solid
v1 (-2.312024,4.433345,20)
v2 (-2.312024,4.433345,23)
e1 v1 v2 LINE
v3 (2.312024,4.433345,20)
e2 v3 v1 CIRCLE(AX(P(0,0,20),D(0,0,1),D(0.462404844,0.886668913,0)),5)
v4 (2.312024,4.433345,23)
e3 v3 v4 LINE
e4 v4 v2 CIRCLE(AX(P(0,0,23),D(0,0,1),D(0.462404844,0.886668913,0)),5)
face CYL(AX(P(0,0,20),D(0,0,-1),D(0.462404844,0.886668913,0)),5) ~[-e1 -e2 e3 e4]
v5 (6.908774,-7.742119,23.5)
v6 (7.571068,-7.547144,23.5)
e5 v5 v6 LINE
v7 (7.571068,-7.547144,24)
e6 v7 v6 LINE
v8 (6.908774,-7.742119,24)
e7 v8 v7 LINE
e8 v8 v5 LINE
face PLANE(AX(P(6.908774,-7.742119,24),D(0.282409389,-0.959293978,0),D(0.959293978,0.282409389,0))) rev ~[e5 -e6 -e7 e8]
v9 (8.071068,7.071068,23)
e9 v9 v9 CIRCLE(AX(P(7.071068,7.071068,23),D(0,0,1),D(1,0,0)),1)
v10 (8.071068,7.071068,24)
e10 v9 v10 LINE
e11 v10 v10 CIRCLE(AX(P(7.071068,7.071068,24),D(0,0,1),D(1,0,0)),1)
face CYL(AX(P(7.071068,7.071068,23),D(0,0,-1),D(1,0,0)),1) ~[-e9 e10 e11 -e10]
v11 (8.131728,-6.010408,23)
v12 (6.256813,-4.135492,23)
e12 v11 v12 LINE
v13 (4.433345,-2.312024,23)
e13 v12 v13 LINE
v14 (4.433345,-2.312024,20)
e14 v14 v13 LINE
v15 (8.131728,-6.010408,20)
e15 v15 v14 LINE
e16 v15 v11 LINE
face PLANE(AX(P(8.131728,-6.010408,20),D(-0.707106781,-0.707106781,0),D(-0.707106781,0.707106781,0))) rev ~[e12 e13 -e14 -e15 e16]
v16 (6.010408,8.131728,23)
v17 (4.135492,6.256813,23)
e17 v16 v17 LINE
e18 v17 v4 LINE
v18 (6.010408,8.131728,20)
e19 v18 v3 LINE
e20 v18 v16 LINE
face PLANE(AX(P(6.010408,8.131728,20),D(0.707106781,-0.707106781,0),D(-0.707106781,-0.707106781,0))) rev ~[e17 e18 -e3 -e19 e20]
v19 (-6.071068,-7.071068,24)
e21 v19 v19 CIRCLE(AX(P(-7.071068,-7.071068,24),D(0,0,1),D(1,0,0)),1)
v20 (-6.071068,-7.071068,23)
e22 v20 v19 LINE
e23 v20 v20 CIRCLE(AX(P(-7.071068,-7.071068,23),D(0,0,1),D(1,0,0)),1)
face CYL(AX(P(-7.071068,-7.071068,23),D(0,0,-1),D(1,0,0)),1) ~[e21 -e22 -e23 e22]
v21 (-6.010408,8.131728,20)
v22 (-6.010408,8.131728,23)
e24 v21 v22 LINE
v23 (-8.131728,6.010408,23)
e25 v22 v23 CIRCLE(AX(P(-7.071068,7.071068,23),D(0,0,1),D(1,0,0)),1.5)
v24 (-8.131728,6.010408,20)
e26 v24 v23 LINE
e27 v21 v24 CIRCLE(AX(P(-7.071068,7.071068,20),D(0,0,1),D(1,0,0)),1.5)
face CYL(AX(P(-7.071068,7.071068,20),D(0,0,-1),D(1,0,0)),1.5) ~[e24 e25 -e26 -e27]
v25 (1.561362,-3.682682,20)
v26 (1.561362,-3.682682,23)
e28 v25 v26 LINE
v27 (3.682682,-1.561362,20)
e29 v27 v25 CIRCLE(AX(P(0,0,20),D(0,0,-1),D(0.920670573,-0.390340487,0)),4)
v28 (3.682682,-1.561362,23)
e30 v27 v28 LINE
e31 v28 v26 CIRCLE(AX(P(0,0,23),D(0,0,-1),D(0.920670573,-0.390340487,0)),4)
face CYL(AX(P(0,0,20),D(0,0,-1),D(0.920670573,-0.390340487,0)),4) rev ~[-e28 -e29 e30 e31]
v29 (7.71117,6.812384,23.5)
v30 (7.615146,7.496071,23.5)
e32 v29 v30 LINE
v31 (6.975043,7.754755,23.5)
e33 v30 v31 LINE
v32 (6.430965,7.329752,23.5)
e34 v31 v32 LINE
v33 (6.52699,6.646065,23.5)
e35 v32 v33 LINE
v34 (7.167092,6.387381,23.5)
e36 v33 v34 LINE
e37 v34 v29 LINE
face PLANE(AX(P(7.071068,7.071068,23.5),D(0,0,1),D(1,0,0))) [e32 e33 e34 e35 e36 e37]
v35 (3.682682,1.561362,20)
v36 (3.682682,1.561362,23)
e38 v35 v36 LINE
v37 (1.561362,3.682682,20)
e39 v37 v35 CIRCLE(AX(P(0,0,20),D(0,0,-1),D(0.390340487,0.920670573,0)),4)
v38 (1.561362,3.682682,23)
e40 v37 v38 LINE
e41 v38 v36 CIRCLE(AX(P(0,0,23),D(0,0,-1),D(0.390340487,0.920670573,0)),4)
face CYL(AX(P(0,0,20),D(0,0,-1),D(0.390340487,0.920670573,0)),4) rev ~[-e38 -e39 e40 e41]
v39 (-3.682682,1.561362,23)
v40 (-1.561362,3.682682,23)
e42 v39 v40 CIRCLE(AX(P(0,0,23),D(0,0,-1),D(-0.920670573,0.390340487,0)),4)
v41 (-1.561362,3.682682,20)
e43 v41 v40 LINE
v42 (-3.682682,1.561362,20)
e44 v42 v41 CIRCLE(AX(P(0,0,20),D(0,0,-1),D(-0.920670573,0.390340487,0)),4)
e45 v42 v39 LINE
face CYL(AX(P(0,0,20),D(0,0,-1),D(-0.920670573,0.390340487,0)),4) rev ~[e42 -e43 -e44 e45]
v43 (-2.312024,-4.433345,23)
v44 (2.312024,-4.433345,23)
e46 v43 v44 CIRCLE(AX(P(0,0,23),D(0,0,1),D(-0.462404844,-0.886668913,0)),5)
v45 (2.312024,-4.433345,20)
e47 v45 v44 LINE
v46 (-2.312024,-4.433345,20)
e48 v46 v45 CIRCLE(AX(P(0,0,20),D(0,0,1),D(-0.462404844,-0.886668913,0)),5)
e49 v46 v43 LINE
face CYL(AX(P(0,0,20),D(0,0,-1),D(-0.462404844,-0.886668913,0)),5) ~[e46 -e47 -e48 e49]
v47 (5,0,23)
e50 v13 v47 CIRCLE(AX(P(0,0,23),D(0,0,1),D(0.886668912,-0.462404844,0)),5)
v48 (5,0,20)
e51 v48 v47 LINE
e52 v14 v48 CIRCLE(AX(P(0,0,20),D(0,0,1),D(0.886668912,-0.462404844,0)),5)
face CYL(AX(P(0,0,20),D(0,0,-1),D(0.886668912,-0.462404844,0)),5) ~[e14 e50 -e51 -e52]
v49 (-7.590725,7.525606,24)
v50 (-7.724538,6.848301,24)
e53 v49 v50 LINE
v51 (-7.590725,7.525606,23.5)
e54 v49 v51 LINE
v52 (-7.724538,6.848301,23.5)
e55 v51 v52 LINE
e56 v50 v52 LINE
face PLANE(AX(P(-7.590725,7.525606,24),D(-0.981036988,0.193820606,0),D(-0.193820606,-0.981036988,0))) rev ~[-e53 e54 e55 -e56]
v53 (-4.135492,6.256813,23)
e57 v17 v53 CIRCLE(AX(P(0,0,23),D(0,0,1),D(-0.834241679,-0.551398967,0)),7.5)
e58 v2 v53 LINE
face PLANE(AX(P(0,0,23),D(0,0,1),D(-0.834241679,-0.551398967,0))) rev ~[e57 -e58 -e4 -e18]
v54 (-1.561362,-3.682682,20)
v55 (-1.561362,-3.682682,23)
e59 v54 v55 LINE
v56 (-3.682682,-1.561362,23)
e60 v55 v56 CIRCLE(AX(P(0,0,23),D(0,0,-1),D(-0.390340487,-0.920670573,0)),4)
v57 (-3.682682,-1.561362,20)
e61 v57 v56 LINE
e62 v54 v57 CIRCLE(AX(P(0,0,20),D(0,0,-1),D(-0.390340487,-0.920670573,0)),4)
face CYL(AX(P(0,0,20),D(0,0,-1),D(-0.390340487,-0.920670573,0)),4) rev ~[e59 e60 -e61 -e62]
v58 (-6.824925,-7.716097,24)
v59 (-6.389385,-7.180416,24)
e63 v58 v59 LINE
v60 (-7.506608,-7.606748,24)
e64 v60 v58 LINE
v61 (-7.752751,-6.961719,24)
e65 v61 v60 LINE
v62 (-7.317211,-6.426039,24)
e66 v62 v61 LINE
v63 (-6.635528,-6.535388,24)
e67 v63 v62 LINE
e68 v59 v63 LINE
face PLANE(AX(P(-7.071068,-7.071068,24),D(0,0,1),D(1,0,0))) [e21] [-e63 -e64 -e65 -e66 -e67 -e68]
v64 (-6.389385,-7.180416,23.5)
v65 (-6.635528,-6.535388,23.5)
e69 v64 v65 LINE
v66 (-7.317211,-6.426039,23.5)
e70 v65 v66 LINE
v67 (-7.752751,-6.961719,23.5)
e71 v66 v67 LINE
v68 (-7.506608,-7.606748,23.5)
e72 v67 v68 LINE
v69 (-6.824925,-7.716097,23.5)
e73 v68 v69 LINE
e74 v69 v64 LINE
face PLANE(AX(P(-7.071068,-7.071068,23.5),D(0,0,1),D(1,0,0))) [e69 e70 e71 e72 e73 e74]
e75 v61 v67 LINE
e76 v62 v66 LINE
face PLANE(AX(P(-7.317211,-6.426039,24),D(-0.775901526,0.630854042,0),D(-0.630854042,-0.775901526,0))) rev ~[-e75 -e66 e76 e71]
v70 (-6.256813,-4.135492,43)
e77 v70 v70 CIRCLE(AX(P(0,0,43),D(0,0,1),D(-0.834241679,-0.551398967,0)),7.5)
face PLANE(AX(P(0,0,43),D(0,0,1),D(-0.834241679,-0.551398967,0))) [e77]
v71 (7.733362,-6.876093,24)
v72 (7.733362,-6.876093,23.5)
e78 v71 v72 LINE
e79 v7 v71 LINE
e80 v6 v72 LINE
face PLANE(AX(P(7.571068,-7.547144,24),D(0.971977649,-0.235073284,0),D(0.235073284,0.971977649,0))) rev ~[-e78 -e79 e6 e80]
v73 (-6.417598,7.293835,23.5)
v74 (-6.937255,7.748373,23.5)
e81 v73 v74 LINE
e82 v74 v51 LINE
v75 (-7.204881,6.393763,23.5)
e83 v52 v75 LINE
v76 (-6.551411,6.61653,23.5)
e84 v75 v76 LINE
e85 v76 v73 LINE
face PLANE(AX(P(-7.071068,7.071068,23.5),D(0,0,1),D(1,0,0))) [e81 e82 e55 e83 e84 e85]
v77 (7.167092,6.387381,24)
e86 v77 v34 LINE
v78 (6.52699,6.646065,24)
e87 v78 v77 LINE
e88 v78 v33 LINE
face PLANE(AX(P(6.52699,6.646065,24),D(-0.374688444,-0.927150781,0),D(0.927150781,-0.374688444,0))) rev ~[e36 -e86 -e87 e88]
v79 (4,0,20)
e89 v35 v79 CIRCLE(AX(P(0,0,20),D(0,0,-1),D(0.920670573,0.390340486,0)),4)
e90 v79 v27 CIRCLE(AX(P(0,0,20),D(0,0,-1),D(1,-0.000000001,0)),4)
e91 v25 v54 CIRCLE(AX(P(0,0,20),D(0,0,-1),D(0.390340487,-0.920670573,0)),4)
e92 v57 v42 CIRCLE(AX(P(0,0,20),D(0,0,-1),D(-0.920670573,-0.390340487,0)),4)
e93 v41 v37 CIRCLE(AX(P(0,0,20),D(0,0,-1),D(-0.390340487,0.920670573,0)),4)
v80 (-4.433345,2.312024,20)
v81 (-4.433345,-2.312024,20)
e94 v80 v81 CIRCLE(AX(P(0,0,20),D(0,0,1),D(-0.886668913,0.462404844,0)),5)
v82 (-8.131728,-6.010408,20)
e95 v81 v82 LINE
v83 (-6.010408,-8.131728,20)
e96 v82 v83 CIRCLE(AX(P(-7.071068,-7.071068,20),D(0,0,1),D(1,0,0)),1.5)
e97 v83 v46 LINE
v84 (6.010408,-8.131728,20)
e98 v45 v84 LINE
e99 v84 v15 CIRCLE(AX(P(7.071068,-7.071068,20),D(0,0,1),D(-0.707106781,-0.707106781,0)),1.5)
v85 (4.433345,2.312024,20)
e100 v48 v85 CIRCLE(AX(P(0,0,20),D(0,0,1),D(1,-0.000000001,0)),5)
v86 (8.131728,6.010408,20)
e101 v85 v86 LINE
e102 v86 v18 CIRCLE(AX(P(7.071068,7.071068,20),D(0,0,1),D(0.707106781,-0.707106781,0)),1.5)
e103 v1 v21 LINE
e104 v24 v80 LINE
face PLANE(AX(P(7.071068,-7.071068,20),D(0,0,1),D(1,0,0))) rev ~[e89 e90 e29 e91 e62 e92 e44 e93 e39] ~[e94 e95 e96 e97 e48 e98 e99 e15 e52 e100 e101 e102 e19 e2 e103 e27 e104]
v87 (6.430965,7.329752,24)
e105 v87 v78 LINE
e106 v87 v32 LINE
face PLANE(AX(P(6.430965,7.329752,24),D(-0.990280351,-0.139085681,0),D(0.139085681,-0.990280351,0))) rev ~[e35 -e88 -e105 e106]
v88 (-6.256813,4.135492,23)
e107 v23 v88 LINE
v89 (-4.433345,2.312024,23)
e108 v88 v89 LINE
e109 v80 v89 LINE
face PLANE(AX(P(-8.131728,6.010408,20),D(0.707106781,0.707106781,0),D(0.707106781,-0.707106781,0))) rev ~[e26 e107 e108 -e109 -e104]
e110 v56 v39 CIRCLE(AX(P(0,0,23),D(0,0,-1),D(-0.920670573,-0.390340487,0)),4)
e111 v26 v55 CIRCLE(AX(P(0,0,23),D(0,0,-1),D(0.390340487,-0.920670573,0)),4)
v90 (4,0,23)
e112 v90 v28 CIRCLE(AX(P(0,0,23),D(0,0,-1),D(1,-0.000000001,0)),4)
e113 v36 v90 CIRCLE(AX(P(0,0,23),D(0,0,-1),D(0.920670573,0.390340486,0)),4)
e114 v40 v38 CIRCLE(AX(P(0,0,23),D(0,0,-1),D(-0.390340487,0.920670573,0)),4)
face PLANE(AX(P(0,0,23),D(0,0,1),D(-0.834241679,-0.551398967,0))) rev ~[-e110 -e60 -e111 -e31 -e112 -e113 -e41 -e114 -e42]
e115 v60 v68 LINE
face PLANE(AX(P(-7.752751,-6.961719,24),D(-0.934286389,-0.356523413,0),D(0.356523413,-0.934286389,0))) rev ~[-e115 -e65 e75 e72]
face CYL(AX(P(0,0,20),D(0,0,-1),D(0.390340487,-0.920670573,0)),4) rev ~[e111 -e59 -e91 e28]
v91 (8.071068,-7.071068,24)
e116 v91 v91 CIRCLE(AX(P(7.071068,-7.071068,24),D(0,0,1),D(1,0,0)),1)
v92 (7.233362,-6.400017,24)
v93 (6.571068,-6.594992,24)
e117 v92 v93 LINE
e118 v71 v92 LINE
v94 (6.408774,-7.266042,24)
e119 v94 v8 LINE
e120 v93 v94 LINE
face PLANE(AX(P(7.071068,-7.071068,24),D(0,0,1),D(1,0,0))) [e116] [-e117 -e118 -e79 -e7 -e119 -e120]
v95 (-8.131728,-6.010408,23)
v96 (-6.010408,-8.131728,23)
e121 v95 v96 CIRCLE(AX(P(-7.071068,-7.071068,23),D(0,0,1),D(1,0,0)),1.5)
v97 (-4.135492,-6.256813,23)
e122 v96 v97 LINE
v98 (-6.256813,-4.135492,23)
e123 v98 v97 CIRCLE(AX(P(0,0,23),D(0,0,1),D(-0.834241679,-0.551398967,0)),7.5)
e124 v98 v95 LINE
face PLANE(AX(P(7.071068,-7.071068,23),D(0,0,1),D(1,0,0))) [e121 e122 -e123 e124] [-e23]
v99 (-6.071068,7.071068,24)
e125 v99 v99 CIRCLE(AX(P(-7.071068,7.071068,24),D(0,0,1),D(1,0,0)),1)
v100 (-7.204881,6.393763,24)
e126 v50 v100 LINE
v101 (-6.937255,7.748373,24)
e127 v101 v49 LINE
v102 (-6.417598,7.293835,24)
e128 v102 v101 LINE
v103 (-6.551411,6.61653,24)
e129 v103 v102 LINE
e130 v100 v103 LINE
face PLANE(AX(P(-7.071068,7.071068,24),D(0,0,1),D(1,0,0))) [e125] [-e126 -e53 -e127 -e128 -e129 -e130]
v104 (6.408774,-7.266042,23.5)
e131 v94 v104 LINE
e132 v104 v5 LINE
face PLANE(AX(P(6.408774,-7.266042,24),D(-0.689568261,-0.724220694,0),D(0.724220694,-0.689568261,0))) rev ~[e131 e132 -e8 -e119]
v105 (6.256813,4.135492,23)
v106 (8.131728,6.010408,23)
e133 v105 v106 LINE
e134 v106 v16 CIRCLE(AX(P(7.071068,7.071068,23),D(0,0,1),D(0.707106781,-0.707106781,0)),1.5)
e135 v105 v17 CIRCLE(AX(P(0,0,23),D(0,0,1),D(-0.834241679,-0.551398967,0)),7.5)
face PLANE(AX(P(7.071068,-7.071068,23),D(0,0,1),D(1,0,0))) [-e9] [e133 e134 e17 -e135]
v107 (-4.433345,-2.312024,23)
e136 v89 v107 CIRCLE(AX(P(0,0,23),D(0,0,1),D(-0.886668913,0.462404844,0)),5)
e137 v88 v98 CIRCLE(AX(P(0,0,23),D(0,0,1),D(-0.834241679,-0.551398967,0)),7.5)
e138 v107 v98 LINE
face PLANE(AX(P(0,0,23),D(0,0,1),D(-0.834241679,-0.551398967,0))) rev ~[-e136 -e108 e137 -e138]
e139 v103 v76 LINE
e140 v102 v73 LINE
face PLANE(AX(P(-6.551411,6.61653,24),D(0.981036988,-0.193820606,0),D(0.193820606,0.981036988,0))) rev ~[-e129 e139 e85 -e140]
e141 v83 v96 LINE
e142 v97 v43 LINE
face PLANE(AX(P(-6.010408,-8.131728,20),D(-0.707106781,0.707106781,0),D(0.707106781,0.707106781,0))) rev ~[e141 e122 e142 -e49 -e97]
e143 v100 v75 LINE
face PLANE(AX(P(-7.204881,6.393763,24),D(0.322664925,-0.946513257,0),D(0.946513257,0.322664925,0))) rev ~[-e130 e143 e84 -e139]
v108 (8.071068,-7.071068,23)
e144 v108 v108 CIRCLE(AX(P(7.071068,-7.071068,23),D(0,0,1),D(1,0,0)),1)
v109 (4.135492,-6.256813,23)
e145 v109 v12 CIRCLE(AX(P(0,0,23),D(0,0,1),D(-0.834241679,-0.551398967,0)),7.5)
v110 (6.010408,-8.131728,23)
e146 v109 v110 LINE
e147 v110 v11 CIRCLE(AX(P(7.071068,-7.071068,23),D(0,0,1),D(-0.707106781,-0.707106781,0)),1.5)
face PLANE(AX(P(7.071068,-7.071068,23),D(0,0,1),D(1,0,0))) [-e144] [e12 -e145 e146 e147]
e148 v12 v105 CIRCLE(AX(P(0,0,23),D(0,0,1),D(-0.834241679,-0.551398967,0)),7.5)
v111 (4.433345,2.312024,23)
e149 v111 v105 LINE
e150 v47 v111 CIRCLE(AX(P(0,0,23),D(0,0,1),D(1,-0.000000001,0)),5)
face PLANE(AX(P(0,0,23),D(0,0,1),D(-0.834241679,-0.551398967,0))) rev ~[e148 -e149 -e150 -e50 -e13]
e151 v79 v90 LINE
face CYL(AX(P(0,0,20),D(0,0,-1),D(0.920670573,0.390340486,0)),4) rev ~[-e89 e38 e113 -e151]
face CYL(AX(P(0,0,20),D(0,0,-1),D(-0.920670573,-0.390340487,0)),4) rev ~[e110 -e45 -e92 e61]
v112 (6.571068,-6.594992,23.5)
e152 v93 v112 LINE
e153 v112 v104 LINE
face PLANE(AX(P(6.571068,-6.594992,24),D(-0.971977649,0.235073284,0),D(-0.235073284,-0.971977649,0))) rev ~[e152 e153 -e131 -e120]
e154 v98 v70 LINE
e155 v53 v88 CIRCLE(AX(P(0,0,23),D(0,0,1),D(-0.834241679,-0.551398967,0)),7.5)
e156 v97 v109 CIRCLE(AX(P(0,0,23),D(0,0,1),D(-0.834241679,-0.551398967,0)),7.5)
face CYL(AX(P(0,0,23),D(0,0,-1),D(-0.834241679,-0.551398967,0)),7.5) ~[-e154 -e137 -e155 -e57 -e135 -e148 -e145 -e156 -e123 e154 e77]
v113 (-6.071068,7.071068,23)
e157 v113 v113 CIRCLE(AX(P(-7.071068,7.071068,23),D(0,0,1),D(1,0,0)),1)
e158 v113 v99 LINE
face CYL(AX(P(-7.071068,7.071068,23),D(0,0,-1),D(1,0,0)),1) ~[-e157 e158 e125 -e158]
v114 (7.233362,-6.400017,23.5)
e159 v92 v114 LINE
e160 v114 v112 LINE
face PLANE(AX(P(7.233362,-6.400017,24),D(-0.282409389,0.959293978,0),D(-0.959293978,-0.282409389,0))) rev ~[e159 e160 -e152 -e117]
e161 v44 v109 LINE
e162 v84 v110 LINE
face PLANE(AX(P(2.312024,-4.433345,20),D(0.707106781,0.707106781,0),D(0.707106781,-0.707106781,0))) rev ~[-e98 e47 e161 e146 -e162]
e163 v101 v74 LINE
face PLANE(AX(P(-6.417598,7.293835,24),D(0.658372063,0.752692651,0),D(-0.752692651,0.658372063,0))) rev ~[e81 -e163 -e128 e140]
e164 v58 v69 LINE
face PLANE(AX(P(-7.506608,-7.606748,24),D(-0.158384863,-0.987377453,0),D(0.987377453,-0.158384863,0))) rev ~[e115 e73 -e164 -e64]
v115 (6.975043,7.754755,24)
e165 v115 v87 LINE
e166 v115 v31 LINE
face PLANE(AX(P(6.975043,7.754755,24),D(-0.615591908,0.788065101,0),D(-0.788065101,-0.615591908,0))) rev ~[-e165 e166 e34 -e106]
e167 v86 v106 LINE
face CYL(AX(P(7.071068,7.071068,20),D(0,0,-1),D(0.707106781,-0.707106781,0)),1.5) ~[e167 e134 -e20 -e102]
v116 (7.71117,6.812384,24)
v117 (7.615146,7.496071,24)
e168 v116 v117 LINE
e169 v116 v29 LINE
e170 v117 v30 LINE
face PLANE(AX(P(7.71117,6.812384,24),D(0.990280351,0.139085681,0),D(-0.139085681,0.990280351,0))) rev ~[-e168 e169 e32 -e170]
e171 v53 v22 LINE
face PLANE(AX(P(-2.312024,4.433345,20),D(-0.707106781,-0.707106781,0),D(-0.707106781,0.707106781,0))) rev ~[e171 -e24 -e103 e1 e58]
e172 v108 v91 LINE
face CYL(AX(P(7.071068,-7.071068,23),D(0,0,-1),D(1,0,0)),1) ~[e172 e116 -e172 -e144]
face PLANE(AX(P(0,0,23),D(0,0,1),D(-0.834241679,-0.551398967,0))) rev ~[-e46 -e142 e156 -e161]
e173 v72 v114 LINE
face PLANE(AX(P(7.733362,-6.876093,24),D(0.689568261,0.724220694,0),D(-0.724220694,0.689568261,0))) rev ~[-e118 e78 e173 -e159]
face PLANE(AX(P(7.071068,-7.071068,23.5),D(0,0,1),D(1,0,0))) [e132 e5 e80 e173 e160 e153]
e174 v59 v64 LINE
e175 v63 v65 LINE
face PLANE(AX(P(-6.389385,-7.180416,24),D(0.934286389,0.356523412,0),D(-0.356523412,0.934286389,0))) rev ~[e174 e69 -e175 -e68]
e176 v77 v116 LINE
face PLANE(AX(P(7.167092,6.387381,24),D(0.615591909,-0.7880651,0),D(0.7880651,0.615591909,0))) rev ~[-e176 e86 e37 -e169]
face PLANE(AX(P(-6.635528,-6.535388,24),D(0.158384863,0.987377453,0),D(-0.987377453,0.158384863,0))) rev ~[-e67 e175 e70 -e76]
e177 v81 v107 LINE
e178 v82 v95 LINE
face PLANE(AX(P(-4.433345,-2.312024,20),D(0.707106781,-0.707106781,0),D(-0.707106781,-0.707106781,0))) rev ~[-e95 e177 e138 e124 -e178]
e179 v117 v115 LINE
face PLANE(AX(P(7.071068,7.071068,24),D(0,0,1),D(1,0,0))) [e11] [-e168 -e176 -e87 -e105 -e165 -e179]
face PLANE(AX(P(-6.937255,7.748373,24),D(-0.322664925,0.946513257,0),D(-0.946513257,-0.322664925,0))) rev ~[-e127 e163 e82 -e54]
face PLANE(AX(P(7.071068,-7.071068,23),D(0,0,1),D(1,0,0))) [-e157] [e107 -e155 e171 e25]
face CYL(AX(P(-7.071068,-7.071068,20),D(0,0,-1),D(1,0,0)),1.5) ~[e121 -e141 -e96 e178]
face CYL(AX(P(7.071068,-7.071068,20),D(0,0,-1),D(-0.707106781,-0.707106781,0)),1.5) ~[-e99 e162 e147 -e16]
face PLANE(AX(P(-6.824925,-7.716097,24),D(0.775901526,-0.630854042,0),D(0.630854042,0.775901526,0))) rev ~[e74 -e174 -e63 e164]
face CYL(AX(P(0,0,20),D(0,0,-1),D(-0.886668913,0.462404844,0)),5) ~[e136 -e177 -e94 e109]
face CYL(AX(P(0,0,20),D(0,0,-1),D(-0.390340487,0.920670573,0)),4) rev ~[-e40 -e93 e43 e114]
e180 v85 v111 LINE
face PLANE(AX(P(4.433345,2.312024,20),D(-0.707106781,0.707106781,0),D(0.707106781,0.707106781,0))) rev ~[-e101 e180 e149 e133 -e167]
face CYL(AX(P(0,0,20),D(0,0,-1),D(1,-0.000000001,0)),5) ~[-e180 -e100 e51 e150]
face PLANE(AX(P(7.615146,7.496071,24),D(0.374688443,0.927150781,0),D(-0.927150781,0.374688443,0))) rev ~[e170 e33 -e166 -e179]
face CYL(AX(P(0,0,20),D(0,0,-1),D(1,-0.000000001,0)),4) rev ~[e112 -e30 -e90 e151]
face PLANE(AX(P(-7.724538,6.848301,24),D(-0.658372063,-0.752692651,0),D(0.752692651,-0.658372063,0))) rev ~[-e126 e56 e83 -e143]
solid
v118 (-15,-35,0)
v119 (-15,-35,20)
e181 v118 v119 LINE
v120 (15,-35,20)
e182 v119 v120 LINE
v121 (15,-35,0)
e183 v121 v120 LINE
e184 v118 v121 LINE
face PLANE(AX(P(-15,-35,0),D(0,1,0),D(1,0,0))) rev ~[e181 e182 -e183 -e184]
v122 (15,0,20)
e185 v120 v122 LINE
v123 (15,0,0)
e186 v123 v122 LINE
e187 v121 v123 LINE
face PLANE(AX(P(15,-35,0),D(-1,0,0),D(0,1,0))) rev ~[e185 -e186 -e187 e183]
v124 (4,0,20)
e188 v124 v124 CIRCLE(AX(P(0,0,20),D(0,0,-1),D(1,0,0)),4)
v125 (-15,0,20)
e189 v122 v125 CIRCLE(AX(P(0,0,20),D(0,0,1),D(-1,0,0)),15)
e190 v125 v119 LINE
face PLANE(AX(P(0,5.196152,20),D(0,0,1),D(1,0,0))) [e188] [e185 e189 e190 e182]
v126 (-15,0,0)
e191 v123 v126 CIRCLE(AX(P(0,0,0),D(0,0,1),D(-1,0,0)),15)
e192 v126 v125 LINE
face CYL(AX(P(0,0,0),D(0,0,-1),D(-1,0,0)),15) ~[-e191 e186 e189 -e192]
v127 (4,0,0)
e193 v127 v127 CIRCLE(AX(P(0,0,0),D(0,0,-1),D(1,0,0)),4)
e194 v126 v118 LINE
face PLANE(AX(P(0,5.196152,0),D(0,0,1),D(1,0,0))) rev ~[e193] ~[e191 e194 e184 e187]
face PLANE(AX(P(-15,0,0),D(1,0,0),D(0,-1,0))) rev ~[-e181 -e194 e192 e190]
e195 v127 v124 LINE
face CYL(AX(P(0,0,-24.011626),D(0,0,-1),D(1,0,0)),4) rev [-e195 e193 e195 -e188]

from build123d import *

# Parameters (mm, degrees)
BOSS_EXTRUDE1_DEPTH     = 20
CUT_EXTRUDE1_DEPTH      = 44.011626335
CUT_EXTRUDE1_DEPTH_BACK = 44.011626335
SKETCH2_R               = 4
SKETCH4_R               = 1.5
BOSS_EXTRUDE2_DEPTH     = 3
SKETCH5_R               = 1
BOSS_EXTRUDE3_DEPTH     = 1
CUT_EXTRUDE2_DEPTH      = 0.5
SKETCH7_R               = 7.5
BOSS_EXTRUDE4_DEPTH     = 20


with BuildPart() as part:
    # Sketch1 → Boss-Extrude1 (new body)
    with BuildSketch(Plane.XY):
        with BuildLine():
            ThreePointArc((15, 0), (0, 15), (-15, 0))
            Line((-15, 0), (15, 0))
        make_face()
        with BuildLine():
            Line((15, 0), (-15, 0))
            ThreePointArc((-15, 0), (0, -15), (15, 0))
        make_face()
        with BuildLine():
            ThreePointArc((15, 0), (0, -15), (-15, 0))
            Line((-15, 0), (-15, -35))
            Line((-15, -35), (15, -35))
            Line((15, -35), (15, 0))
        make_face()
    extrude(amount=BOSS_EXTRUDE1_DEPTH)

    # Sketch2 → Cut-Extrude1 (cut, two sides: drawn at the far end of the back side and taken through both)
    with BuildSketch(Plane.XY.offset(20).offset(-CUT_EXTRUDE1_DEPTH_BACK)):
        Circle(SKETCH2_R)
    extrude(amount=CUT_EXTRUDE1_DEPTH + CUT_EXTRUDE1_DEPTH_BACK, mode=Mode.SUBTRACT)


with BuildPart() as body_2:
    # Sketch4 → Boss-Extrude2 (new body)
    with BuildSketch(Plane.XY.offset(20)):
        with Locations((7.071067812, -7.071067812)):
            Circle(SKETCH4_R)
        with BuildLine():
            Line((8.131727984, -6.01040764), (4.433344563, -2.312024219))
            ThreePointArc((4.433344563, -2.312024219), (3.535533906, -3.535533906), (2.312024219, -4.433344563))
            Line((2.312024219, -4.433344563), (6.01040764, -8.131727984))
            ThreePointArc((6.01040764, -8.131727984), (6.01040764, -6.01040764), (8.131727984, -6.01040764))
        make_face()
        with BuildLine():
            ThreePointArc((5, 0), (4.856270319, 1.190226278), (4.433344563, 2.312024219))
            Line((4.433344563, 2.312024219), (3.682682292, 1.561361949))
            ThreePointArc((3.682682292, 1.561361949), (3.919867929, 0.796640079), (4, 0))
            ThreePointArc((4, 0), (3.919867929, -0.796640079), (3.682682292, -1.561361949))
            Line((3.682682292, -1.561361949), (4.433344563, -2.312024219))
            ThreePointArc((4.433344563, -2.312024219), (4.856270319, -1.190226278), (5, 0))
        make_face()
        with BuildLine():
            ThreePointArc((2.312024219, -4.433344563), (3.535533906, -3.535533906), (4.433344563, -2.312024219))
            Line((4.433344563, -2.312024219), (3.682682292, -1.561361949))
            ThreePointArc((3.682682292, -1.561361949), (2.828427125, -2.828427125), (1.561361949, -3.682682292))
            Line((1.561361949, -3.682682292), (2.312024219, -4.433344563))
        make_face()
        with BuildLine():
            Line((-1.561361949, 3.682682292), (-2.312024219, 4.433344563))
            ThreePointArc((-2.312024219, 4.433344563), (-3.535533906, 3.535533906), (-4.433344563, 2.312024219))
            Line((-4.433344563, 2.312024219), (-3.682682292, 1.561361949))
            ThreePointArc((-3.682682292, 1.561361949), (-2.828427125, 2.828427125), (-1.561361949, 3.682682292))
        make_face()
        with BuildLine():
            ThreePointArc((-2.312024219, -4.433344563), (0, -5), (2.312024219, -4.433344563))
            Line((2.312024219, -4.433344563), (1.561361949, -3.682682292))
            ThreePointArc((1.561361949, -3.682682292), (0, -4), (-1.561361949, -3.682682292))
            Line((-1.561361949, -3.682682292), (-2.312024219, -4.433344563))
        make_face()
        with BuildLine():
            Line((3.682682292, 1.561361949), (4.433344563, 2.312024219))
            ThreePointArc((4.433344563, 2.312024219), (3.535533906, 3.535533906), (2.312024219, 4.433344563))
            Line((2.312024219, 4.433344563), (1.561361949, 3.682682292))
            ThreePointArc((1.561361949, 3.682682292), (2.828427125, 2.828427125), (3.682682292, 1.561361949))
        make_face()
        with BuildLine():
            Line((-2.312024219, -4.433344563), (-1.561361949, -3.682682292))
            ThreePointArc((-1.561361949, -3.682682292), (-2.828427125, -2.828427125), (-3.682682292, -1.561361949))
            Line((-3.682682292, -1.561361949), (-4.433344563, -2.312024219))
            ThreePointArc((-4.433344563, -2.312024219), (-3.535533906, -3.535533906), (-2.312024219, -4.433344563))
        make_face()
        with BuildLine():
            Line((-3.682682292, 1.561361949), (-4.433344563, 2.312024219))
            ThreePointArc((-4.433344563, 2.312024219), (-5, 0), (-4.433344563, -2.312024219))
            Line((-4.433344563, -2.312024219), (-3.682682292, -1.561361949))
            ThreePointArc((-3.682682292, -1.561361949), (-4, 0), (-3.682682292, 1.561361949))
        make_face()
        with BuildLine():
            Line((1.561361949, 3.682682292), (2.312024219, 4.433344563))
            ThreePointArc((2.312024219, 4.433344563), (0, 5), (-2.312024219, 4.433344563))
            Line((-2.312024219, 4.433344563), (-1.561361949, 3.682682292))
            ThreePointArc((-1.561361949, 3.682682292), (0, 4), (1.561361949, 3.682682292))
        make_face()
        with BuildLine():
            Line((4.433344563, 2.312024219), (8.131727984, 6.01040764))
            ThreePointArc((8.131727984, 6.01040764), (6.01040764, 6.01040764), (6.01040764, 8.131727984))
            Line((6.01040764, 8.131727984), (2.312024219, 4.433344563))
            ThreePointArc((2.312024219, 4.433344563), (3.535533906, 3.535533906), (4.433344563, 2.312024219))
        make_face()
        with Locations((7.071067812, 7.071067812)):
            Circle(SKETCH4_R)
        with Locations((-7.071067812, 7.071067812)):
            Circle(SKETCH4_R)
        with BuildLine():
            ThreePointArc((-4.433344563, 2.312024219), (-3.535533906, 3.535533906), (-2.312024219, 4.433344563))
            Line((-2.312024219, 4.433344563), (-6.01040764, 8.131727984))
            ThreePointArc((-6.01040764, 8.131727984), (-5.685248513, 7.64509296), (-5.571067812, 7.071067812))
            ThreePointArc((-5.571067812, 7.071067812), (-6.497042663, 5.685248513), (-8.131727984, 6.01040764))
            Line((-8.131727984, 6.01040764), (-4.433344563, 2.312024219))
        make_face()
        with BuildLine():
            Line((-6.01040764, -8.131727984), (-2.312024219, -4.433344563))
            ThreePointArc((-2.312024219, -4.433344563), (-3.535533906, -3.535533906), (-4.433344563, -2.312024219))
            Line((-4.433344563, -2.312024219), (-8.131727984, -6.01040764))
            ThreePointArc((-8.131727984, -6.01040764), (-6.497042663, -5.685248513), (-5.571067812, -7.071067812))
            ThreePointArc((-5.571067812, -7.071067812), (-5.685248513, -7.64509296), (-6.01040764, -8.131727984))
        make_face()
        with Locations((-7.071067812, -7.071067812)):
            Circle(SKETCH4_R)
    extrude(amount=BOSS_EXTRUDE2_DEPTH)

    # Sketch5 → Boss-Extrude3 (add)
    with BuildSketch(Plane.XY.offset(23)):
        with Locations((7.071067812, -7.071067812)):
            Circle(SKETCH5_R)
        with Locations((-7.071067812, -7.071067812)):
            Circle(SKETCH5_R)
        with Locations((-7.071067812, 7.071067812)):
            Circle(SKETCH5_R)
        with Locations((7.071067812, 7.071067812)):
            Circle(SKETCH5_R)
    extrude(amount=BOSS_EXTRUDE3_DEPTH)

    # Sketch6 → Cut-Extrude2 (cut)
    with BuildSketch(Plane.XY.offset(24)):
        Polygon((7.233361769, -6.400017083), (6.571067812, -6.594991758), (6.408773855, -7.266042487), (6.908773855, -7.742118541), (7.571067812, -7.547143866), (7.733361769, -6.876093137), align=None)
        Polygon((-7.317210607, -6.426039027), (-7.752750524, -6.961719333), (-7.506607728, -7.606748118), (-6.824925017, -7.716096597), (-6.3893851, -7.180416291), (-6.635527895, -6.535387506), align=None)
        Polygon((-7.590724774, 7.525606096), (-7.724537994, 6.848300824), (-7.204881032, 6.39376254), (-6.55141085, 6.616529528), (-6.41759763, 7.2938348), (-6.937254592, 7.748373084), align=None)
        Polygon((6.975043436, 7.754754676), (6.430965431, 7.329751695), (6.526989807, 6.646064831), (7.167092188, 6.387380947), (7.711170193, 6.812383929), (7.615145817, 7.496070793), align=None)
    extrude(amount=-CUT_EXTRUDE2_DEPTH, mode=Mode.SUBTRACT)

    # Sketch7 → Boss-Extrude4 (add)
    with BuildSketch(Plane.XY.offset(23)):
        with Locations(Location((0, 0, 0), (0, 0, 213.463040967))):
            Circle(SKETCH7_R)
    extrude(amount=BOSS_EXTRUDE4_DEPTH)


solid = Compound([part.part, body_2.part])
